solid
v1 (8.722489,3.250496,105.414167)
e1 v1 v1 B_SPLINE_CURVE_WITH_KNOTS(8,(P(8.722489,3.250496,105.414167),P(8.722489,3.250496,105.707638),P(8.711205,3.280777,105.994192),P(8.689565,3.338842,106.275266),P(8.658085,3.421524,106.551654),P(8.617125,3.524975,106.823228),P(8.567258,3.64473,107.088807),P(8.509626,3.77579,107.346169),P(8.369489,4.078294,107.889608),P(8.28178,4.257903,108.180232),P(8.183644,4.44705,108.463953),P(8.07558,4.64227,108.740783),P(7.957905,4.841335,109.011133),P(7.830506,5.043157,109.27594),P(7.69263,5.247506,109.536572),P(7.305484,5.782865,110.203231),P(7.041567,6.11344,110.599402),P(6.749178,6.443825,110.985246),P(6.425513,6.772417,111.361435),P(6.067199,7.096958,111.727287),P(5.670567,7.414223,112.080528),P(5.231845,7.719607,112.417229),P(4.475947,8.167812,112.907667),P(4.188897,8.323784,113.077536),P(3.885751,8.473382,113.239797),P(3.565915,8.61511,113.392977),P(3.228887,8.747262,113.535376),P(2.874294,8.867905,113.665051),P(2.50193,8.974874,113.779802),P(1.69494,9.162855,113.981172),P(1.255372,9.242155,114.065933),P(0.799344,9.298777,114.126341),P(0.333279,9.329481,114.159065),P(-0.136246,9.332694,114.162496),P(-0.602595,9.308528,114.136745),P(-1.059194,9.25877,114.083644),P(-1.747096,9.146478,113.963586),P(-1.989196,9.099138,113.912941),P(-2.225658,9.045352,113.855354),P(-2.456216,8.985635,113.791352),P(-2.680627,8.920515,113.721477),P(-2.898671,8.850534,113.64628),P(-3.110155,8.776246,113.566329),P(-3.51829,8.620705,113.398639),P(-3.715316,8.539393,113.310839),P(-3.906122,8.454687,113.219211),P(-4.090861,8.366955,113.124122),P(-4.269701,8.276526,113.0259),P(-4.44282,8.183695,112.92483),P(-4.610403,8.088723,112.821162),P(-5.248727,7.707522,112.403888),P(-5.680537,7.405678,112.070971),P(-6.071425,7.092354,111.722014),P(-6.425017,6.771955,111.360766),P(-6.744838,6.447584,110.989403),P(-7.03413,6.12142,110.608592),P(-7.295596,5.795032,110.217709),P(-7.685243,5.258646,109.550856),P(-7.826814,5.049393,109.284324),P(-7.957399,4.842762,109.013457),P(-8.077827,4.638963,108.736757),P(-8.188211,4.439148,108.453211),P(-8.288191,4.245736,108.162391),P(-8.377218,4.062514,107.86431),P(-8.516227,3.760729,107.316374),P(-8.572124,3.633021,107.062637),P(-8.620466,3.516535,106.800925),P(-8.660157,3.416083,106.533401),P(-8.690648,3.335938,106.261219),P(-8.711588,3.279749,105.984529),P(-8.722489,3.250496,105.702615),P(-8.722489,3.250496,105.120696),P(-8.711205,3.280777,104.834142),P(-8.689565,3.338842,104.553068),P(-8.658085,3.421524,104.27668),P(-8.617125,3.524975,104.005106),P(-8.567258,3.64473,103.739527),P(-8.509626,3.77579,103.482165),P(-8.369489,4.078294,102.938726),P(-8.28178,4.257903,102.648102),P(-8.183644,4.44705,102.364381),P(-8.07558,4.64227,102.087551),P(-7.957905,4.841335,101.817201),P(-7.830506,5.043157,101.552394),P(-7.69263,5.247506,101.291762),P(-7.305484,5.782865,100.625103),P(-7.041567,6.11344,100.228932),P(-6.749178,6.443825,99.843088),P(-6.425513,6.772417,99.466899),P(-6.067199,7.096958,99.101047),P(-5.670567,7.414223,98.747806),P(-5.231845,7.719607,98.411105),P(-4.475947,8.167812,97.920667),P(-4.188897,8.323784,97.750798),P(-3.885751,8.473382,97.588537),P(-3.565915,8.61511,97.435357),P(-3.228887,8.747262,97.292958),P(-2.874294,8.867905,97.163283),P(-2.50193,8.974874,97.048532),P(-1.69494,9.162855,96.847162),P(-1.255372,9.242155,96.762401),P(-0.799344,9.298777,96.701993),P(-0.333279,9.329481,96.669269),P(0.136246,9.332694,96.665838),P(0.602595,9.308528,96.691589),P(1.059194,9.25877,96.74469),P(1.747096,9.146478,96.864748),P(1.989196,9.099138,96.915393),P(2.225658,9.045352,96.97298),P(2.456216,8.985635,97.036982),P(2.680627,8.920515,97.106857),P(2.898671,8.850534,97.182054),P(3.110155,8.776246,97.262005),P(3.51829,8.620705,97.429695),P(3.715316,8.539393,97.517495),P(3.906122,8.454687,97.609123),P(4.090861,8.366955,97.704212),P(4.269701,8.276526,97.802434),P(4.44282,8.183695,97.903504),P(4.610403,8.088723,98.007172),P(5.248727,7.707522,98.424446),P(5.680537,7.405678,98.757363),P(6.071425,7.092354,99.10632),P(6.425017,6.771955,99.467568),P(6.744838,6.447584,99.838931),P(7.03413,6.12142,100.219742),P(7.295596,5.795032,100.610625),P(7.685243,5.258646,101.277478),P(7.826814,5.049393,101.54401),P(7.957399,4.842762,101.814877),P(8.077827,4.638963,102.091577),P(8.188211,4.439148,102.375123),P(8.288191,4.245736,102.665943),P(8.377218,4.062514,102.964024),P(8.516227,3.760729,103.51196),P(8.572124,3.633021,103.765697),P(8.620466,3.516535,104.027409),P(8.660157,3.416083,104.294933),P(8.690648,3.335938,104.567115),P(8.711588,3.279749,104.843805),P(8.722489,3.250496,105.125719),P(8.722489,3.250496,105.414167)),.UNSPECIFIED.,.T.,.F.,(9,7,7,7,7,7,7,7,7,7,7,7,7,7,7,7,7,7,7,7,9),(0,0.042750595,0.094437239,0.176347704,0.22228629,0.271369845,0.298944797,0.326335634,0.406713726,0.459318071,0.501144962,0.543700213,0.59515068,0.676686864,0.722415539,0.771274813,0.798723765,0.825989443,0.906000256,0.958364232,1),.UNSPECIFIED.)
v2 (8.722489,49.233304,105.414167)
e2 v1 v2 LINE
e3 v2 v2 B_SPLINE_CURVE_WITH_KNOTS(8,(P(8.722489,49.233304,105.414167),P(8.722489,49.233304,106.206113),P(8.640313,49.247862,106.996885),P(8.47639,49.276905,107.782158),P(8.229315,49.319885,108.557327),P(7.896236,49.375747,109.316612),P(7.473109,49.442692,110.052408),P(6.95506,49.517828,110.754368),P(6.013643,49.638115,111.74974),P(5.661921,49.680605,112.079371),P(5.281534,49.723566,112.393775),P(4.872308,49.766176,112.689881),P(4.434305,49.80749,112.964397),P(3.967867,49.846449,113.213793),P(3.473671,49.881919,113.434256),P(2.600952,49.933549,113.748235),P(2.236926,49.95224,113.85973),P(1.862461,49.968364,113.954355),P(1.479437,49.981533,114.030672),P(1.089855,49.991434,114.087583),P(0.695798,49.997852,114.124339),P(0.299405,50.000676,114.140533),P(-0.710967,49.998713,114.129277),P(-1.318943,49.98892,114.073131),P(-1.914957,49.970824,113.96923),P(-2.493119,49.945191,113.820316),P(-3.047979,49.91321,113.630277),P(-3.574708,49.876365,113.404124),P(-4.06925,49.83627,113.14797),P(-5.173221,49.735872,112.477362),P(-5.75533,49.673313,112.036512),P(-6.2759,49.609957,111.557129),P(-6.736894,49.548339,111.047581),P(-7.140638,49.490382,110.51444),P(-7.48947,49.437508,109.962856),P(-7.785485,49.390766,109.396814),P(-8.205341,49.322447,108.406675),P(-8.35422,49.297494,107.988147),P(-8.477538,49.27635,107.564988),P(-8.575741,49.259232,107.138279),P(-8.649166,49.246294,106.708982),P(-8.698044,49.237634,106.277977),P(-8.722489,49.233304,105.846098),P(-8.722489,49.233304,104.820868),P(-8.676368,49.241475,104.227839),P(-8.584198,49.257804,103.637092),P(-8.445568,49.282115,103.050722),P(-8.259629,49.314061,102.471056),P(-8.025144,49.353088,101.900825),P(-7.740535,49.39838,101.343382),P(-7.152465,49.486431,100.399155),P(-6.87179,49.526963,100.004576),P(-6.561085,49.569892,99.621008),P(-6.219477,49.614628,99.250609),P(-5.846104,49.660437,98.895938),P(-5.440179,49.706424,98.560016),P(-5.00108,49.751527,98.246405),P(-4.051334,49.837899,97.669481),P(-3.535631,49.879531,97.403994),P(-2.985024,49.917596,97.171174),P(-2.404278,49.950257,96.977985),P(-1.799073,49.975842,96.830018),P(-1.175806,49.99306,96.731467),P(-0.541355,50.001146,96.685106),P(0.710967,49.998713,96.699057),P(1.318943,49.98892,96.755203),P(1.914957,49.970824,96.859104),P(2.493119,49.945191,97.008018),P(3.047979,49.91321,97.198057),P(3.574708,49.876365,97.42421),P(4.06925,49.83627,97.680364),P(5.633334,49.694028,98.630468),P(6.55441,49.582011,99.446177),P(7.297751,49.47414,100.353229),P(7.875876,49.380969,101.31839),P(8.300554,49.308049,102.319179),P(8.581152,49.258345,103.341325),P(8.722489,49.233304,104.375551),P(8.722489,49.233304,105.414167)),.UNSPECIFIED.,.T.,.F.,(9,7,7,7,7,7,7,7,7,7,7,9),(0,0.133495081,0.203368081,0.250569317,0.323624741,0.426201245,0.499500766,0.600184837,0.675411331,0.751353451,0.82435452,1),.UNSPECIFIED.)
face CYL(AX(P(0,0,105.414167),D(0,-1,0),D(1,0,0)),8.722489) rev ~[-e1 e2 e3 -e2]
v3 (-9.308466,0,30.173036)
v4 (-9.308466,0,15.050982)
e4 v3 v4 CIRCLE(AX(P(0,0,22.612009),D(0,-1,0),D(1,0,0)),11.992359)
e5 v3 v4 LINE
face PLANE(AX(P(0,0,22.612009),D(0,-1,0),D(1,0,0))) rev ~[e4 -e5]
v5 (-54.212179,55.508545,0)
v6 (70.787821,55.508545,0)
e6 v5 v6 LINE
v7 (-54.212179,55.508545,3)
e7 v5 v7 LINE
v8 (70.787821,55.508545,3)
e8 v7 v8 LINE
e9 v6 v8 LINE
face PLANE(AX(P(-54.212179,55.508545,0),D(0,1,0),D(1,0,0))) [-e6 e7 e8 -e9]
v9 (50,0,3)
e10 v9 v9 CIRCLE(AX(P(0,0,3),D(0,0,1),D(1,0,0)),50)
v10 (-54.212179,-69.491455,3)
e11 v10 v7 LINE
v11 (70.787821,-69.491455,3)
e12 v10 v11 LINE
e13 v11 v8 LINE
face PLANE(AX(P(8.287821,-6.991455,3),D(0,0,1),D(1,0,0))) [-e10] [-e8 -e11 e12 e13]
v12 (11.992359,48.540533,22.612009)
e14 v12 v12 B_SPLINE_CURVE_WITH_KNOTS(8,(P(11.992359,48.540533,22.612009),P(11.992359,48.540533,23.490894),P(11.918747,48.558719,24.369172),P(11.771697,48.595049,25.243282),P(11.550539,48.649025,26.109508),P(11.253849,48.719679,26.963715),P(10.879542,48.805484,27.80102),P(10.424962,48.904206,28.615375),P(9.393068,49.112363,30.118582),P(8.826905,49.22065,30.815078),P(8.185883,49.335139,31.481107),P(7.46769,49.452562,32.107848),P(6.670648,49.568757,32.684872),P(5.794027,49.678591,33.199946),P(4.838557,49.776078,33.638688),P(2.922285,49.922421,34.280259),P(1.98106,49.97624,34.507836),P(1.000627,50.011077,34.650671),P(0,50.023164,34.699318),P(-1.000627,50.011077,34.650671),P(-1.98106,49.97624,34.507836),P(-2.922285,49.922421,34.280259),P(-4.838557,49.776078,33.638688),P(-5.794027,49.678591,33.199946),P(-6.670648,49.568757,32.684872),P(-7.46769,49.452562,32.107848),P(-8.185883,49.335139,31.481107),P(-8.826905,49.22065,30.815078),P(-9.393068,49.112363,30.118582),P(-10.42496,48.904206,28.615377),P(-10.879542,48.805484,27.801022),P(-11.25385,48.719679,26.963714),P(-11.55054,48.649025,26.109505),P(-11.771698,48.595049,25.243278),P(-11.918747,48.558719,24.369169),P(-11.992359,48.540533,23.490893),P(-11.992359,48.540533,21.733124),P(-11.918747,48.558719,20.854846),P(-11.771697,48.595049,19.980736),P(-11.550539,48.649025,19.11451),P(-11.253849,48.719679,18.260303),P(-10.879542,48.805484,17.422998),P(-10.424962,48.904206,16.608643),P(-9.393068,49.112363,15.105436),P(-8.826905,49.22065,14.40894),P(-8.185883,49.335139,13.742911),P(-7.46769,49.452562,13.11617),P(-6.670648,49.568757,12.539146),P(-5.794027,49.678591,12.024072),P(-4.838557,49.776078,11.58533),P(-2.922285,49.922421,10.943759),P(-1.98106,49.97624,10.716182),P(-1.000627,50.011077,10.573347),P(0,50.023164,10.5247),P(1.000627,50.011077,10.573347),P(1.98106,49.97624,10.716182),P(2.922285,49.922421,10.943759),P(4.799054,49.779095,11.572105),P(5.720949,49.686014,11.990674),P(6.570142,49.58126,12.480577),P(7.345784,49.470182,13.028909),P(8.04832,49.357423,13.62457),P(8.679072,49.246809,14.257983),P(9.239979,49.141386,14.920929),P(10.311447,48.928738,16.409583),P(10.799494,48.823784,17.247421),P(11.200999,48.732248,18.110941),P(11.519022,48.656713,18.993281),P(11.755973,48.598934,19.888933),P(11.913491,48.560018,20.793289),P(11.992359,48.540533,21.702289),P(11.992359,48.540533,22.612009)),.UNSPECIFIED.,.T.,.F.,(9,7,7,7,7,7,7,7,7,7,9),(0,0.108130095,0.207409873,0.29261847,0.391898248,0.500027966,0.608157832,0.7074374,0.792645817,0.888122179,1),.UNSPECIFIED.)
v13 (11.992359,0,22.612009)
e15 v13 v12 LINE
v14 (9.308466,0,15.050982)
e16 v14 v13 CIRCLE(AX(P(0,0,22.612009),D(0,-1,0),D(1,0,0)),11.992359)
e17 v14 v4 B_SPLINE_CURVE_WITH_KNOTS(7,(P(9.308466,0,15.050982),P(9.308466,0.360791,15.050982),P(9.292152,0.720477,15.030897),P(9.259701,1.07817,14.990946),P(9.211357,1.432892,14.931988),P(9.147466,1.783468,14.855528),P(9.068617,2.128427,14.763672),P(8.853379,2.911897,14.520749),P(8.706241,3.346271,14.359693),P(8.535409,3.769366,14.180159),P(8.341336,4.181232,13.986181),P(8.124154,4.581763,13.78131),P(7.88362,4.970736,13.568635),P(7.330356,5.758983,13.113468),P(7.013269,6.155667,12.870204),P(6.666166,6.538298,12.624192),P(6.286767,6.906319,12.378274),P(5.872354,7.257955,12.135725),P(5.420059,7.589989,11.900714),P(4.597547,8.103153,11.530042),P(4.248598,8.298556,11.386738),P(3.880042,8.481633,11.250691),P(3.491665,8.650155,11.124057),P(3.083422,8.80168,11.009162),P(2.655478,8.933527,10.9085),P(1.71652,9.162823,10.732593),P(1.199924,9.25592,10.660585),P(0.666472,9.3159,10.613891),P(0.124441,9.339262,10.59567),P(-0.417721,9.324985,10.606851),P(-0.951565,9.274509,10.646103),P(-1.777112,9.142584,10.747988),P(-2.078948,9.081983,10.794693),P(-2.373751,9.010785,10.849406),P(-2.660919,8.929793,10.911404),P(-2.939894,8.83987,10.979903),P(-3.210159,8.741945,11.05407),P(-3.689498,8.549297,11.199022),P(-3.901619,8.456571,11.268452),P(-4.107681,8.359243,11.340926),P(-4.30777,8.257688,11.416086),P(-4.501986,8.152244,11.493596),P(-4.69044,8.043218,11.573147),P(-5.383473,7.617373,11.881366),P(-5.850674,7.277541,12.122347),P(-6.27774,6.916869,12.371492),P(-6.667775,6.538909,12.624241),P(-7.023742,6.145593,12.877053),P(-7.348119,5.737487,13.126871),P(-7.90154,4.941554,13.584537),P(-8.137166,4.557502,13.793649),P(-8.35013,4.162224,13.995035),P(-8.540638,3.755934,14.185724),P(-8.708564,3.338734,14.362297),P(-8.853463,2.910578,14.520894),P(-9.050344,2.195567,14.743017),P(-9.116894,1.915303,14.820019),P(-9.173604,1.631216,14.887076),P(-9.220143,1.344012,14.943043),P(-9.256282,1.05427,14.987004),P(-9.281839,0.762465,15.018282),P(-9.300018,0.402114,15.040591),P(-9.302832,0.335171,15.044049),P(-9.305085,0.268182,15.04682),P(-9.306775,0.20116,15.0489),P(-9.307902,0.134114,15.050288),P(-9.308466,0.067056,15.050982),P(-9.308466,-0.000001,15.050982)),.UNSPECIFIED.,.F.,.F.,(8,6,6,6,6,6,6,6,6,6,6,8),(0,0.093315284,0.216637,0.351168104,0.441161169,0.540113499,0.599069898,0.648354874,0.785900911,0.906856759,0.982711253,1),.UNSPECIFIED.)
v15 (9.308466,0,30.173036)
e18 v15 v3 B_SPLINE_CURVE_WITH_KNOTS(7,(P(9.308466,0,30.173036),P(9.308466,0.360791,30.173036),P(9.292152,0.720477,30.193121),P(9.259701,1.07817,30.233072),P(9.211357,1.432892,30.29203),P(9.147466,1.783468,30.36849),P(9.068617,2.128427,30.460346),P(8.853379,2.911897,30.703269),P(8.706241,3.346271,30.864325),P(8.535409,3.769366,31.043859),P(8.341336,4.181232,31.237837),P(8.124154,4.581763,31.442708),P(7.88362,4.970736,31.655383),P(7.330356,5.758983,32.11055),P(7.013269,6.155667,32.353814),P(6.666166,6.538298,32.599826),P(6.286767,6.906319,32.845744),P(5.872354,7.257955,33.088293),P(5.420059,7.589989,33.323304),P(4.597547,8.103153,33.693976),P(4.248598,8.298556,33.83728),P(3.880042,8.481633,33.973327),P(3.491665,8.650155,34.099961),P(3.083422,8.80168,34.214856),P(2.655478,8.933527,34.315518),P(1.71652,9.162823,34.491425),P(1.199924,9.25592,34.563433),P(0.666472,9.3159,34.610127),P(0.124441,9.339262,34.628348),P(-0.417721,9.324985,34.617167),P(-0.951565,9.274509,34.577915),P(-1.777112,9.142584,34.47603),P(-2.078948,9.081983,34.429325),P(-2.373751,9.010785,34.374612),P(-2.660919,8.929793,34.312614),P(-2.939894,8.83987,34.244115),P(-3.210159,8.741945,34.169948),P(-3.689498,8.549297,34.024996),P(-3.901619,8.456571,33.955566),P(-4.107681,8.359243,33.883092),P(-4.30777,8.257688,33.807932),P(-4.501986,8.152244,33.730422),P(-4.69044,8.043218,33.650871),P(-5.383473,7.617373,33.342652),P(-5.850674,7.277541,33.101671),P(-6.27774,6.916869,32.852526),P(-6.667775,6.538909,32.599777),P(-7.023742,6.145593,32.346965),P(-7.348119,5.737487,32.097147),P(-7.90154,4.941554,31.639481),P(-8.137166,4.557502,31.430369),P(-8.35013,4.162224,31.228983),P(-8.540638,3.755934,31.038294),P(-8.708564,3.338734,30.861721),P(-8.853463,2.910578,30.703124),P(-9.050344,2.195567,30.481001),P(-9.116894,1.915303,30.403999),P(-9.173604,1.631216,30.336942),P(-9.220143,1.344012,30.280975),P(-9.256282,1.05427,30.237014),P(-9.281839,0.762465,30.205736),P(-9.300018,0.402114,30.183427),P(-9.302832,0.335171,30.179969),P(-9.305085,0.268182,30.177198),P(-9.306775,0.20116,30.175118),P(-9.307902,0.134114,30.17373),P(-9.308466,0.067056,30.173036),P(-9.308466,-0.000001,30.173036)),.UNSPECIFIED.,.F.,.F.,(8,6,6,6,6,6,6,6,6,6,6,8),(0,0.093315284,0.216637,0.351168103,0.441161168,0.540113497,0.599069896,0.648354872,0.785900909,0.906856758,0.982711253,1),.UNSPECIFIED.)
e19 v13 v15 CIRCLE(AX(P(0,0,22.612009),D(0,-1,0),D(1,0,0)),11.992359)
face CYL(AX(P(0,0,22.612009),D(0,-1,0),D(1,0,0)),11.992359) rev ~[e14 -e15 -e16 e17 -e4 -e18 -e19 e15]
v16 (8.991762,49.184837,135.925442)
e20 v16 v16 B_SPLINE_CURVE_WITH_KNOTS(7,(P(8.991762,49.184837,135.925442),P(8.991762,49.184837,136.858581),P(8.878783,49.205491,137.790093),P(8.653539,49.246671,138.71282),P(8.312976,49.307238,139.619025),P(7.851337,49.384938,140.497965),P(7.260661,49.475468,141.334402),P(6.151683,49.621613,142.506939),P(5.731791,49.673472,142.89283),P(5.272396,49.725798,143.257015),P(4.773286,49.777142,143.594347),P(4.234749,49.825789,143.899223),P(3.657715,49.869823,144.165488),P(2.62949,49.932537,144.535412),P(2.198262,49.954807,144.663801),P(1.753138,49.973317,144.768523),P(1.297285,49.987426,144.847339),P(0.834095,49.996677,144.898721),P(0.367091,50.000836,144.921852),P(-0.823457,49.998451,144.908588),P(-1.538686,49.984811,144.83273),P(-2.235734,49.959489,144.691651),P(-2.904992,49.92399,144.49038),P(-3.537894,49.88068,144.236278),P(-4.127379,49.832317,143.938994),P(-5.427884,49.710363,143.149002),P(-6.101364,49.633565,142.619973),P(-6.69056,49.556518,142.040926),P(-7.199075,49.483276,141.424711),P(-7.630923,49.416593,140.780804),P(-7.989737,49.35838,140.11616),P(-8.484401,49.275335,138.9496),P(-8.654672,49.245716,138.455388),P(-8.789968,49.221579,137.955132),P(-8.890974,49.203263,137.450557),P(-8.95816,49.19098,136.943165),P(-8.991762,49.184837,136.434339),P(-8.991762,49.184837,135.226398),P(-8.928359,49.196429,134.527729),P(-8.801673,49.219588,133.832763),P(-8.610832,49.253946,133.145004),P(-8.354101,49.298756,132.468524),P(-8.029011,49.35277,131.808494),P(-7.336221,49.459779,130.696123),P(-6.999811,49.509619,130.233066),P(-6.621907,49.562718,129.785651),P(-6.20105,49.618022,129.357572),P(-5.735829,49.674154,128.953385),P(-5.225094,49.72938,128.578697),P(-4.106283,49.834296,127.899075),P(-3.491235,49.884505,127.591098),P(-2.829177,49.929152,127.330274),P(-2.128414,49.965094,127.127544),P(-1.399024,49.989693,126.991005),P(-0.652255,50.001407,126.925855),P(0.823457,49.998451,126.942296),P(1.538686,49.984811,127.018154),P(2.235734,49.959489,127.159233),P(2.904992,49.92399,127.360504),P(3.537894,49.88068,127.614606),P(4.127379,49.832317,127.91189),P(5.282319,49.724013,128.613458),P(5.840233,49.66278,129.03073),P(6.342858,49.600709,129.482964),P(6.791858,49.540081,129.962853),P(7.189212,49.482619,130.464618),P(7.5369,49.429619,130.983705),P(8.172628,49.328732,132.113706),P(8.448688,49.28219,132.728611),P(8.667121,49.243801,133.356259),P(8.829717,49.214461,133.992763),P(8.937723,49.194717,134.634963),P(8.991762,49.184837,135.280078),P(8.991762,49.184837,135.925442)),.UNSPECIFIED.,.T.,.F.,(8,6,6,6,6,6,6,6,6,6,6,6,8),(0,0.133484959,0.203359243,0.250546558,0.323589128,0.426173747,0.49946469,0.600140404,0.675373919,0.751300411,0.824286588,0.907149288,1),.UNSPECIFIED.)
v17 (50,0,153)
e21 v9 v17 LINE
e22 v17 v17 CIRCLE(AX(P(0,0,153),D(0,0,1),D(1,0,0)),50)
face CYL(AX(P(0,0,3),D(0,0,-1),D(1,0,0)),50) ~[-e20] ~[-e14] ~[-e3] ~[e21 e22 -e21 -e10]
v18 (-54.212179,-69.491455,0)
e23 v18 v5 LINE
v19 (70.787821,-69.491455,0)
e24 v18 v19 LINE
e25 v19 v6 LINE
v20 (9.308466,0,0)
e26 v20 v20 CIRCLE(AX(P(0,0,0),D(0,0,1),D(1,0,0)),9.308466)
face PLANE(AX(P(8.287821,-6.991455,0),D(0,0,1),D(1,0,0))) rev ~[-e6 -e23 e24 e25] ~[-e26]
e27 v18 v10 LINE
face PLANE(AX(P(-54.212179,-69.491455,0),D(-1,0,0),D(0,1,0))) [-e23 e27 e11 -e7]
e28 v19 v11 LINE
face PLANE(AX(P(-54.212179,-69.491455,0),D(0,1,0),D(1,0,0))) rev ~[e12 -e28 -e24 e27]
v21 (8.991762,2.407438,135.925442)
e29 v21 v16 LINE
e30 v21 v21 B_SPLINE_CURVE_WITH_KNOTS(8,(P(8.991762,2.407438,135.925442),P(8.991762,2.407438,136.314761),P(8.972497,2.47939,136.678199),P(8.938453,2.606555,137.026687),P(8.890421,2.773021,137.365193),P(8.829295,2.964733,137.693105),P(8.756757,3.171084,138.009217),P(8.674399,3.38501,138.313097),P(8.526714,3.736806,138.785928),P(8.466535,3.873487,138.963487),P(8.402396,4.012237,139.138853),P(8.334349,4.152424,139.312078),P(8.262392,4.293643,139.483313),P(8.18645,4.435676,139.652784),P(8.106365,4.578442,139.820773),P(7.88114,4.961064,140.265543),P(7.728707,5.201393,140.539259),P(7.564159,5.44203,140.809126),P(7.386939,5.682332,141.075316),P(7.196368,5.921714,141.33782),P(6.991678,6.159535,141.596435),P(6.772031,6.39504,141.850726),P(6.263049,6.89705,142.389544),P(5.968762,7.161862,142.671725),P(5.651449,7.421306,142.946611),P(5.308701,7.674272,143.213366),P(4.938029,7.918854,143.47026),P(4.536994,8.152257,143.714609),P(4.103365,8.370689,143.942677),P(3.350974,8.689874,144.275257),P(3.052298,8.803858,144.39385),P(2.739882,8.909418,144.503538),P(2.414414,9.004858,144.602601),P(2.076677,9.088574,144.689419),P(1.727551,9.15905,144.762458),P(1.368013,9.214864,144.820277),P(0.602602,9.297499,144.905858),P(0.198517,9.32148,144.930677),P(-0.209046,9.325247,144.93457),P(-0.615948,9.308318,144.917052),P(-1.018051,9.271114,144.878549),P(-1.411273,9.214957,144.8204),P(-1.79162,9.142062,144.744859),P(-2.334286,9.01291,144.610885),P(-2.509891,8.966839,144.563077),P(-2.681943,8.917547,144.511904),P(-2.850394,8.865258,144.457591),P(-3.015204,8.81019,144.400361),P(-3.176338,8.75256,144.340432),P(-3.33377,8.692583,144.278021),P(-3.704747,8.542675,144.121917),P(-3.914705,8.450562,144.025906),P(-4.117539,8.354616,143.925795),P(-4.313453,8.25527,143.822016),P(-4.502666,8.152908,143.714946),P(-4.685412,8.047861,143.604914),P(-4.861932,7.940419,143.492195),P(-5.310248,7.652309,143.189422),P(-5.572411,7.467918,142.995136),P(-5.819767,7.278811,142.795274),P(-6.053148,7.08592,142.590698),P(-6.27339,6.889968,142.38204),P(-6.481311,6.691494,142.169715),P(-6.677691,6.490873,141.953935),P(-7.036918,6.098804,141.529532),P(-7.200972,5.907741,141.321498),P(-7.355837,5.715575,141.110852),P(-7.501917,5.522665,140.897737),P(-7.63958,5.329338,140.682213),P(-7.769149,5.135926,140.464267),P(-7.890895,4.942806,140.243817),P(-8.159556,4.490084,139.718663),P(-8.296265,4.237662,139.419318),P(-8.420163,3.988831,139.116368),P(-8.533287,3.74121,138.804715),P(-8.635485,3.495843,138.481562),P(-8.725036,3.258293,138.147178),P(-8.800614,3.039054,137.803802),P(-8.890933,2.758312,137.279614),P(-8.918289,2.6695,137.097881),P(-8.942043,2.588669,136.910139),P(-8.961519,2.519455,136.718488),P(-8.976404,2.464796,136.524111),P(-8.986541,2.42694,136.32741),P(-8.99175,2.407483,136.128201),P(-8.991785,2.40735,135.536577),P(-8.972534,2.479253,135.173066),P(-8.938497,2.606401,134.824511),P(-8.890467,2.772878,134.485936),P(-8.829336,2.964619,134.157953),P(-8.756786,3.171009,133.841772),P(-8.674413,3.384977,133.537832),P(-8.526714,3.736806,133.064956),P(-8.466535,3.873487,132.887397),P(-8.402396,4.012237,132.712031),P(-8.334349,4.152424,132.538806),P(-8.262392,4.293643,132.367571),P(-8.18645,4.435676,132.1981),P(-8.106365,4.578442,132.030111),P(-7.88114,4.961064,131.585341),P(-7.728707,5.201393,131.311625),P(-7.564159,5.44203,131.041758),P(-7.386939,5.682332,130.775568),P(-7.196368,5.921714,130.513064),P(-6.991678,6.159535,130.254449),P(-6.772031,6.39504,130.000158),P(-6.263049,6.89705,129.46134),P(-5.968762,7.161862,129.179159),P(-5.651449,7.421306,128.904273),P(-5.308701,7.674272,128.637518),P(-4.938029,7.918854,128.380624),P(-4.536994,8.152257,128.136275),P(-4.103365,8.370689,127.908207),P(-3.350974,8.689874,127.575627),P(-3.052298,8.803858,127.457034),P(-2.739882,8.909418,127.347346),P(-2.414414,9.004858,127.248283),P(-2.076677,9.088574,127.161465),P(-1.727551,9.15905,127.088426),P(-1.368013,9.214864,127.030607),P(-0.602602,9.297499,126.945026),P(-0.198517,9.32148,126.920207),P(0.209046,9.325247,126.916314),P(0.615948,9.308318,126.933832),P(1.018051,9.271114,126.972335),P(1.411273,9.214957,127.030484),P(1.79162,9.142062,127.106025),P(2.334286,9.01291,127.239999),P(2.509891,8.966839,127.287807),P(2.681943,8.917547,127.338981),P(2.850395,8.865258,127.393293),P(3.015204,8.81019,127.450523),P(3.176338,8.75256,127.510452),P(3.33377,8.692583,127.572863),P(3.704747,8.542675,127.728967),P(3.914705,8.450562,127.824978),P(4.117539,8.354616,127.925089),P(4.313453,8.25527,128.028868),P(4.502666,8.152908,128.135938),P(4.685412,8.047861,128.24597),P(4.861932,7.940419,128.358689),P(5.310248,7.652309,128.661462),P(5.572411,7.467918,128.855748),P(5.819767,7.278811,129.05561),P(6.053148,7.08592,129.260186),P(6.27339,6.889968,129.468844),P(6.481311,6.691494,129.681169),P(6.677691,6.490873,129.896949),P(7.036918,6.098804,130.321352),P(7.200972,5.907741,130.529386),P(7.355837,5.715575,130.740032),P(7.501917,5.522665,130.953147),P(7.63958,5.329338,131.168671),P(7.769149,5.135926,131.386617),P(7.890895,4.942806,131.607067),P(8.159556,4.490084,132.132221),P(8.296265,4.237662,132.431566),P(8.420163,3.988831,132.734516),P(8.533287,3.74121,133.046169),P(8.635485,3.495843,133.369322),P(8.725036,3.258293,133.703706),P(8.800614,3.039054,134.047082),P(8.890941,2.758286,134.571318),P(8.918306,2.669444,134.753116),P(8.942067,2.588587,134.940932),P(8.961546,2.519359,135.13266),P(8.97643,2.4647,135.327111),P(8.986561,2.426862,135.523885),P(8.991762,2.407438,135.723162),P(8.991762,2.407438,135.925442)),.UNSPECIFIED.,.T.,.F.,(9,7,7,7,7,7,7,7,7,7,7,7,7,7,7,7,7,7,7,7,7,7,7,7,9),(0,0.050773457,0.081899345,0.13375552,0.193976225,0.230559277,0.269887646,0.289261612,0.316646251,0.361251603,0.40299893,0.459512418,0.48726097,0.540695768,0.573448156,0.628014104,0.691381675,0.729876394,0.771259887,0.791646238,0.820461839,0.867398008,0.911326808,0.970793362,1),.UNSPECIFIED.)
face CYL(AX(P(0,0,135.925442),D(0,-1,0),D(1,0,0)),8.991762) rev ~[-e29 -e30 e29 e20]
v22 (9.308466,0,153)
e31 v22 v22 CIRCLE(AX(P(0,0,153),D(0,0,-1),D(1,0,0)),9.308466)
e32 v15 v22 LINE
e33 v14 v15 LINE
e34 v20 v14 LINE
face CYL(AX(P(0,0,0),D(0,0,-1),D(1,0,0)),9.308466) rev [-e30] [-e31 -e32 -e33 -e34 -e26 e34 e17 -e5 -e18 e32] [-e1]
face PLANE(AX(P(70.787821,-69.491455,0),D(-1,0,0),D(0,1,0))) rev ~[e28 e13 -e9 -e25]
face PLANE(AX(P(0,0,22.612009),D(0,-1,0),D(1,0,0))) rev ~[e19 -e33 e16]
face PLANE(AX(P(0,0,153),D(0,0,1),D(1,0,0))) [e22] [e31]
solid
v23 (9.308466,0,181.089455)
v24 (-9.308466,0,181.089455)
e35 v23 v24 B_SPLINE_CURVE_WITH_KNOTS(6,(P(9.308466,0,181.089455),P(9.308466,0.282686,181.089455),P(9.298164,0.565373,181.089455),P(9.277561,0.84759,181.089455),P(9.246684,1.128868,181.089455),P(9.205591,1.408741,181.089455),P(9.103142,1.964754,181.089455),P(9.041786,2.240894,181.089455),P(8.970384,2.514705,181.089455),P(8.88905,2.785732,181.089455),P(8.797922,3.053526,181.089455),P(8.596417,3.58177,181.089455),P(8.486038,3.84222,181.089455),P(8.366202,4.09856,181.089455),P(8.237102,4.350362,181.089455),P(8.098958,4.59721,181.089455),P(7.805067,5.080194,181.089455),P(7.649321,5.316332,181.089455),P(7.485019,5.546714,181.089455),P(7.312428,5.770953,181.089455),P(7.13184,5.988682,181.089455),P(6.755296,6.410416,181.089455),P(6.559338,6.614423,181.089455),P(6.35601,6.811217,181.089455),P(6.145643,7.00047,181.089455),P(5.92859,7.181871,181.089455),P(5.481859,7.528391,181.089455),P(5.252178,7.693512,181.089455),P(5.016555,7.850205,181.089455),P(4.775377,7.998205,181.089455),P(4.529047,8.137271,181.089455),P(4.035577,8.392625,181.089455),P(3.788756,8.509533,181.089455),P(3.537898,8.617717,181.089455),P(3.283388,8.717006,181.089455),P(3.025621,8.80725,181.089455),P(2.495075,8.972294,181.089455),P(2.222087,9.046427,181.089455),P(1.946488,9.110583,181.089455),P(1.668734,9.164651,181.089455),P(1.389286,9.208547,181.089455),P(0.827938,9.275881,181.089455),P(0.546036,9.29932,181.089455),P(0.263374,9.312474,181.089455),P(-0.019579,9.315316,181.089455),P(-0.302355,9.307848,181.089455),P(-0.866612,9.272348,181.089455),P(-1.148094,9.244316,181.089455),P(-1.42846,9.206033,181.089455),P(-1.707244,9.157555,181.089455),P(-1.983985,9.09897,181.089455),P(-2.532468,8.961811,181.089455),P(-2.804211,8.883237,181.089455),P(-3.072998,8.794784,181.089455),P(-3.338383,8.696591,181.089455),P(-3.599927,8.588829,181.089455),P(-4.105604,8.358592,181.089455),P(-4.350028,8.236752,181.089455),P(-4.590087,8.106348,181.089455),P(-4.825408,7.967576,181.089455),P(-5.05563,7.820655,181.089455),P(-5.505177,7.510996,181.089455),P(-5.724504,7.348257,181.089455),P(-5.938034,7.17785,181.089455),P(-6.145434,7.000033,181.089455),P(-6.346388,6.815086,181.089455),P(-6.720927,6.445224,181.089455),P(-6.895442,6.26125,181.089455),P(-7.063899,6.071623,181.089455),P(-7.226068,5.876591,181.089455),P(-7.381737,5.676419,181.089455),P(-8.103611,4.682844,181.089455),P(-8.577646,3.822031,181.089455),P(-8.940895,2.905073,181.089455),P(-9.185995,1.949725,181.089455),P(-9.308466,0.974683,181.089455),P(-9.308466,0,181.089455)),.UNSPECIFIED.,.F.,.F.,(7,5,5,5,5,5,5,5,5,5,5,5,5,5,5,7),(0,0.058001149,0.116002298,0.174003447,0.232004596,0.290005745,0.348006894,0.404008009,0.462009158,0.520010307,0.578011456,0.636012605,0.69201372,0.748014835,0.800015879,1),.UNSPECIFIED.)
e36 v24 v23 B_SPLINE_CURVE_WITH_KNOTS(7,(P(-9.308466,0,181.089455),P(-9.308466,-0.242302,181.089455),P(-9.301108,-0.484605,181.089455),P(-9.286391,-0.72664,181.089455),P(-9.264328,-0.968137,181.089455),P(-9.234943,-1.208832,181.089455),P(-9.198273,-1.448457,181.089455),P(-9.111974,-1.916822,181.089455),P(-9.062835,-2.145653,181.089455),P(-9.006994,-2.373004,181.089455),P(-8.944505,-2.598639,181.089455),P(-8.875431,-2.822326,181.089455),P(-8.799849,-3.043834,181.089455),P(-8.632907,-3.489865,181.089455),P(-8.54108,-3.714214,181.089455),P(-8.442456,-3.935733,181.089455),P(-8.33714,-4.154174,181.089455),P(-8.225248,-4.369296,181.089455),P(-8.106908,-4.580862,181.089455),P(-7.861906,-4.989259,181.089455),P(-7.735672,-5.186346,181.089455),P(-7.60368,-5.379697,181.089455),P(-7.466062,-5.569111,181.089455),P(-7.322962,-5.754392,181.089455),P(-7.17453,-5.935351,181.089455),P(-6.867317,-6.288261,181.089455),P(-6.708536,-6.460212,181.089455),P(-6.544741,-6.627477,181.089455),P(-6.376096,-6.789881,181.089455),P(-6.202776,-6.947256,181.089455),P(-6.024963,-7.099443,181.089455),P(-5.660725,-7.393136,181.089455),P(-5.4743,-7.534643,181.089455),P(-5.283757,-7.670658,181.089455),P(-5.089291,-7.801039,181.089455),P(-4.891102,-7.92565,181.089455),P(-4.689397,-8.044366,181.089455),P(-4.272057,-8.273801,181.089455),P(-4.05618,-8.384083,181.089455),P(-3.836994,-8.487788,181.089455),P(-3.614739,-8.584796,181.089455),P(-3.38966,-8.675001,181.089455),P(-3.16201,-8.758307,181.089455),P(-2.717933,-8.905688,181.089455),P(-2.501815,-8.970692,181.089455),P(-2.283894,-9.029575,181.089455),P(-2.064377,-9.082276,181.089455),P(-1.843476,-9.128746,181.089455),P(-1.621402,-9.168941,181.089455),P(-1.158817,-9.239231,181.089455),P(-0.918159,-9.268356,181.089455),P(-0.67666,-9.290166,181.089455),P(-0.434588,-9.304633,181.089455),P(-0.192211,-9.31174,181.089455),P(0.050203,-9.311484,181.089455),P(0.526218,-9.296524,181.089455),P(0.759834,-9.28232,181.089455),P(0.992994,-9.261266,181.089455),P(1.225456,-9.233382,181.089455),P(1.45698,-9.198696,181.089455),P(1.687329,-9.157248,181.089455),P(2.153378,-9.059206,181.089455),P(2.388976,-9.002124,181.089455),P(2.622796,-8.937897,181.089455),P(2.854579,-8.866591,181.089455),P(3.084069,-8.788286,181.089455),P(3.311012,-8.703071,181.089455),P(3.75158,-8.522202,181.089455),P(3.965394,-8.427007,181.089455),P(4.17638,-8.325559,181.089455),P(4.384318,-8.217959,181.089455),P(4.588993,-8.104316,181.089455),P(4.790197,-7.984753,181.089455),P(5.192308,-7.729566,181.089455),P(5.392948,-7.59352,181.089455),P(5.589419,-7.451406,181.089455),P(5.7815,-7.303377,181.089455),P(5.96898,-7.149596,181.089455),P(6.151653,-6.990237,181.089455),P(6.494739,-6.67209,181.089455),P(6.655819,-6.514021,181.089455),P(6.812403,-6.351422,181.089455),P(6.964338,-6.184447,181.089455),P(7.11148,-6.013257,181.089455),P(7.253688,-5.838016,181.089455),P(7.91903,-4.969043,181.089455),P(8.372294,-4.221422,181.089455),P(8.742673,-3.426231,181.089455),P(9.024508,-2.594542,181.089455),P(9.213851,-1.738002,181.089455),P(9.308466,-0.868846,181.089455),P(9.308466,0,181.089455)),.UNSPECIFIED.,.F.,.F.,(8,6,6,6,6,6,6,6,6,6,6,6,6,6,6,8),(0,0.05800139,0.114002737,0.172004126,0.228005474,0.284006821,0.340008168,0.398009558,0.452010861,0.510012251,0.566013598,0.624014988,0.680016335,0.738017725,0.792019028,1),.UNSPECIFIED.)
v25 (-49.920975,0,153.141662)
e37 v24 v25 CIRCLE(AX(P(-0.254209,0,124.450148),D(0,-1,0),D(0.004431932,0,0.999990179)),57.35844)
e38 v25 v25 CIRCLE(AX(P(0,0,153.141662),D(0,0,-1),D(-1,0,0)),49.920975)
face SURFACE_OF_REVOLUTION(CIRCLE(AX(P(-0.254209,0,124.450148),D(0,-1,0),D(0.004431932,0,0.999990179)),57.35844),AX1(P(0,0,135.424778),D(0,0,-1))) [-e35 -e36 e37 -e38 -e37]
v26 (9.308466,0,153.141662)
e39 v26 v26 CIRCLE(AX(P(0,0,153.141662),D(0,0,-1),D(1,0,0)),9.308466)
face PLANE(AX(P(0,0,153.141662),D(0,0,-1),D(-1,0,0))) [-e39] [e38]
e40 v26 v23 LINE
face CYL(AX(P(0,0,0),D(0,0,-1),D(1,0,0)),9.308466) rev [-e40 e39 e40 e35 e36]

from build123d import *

# Parameters (mm, degrees)
F0_W     = 125
F0_H     = 125
F1_DEPTH = 3
F2_R     = 50
F3_DEPTH = 150
F6_R     = 11.992359
F6_R_2   = 8.991762
F6_R_3   = 8.722489
F7_DEPTH = 76.2
F8_R     = 9.308466
F9_DEPTH = 181.809588


with BuildPart() as f1:
    # F0 (on Top) → F1 (new body)
    with BuildSketch(Plane.XY):
        with Locations((8.287821, -6.991455)):
            Rectangle(F0_W, F0_H)
    extrude(amount=F1_DEPTH)

    # F2 (on face) → F3 (join)
    with BuildSketch(Plane.XY.offset(3)):
        Circle(F2_R)
    extrude(amount=F3_DEPTH)

    # F6 (on Front) → F7 (cut)
    with BuildSketch(Plane.XZ):
        with Locations((0, 22.612009)):
            Circle(F6_R)
        with Locations((0, 135.925442)):
            Circle(F6_R_2)
        with Locations((0, 105.414167)):
            Circle(F6_R_3)
    extrude(amount=-F7_DEPTH, mode=Mode.SUBTRACT)


with BuildPart() as f5:
    # F4 (on Front) → F5 (revolve)
    with BuildSketch(Plane.XZ):
        with BuildLine():
            ThreePointArc((0, 181.808025), (-28.817127, 174.19098), (-49.920975, 153.141662))
            Line((-49.920975, 153.141662), (0, 153.141662))
            Line((0, 153.141662), (0, 181.808025))
        make_face()
    revolve(axis=Axis((0, 0, 135.424778), (0, 0, -1)))


with BuildPart() as f9_tool:
    # F8 (on Top) → F9 (new body, through all)
    with BuildSketch(Plane.XY):
        Circle(F8_R)
    extrude(amount=F9_DEPTH)


with BuildPart() as f1_1:
    add(f1.part)

    # F9: cut by f9_tool
    add(f9_tool.part, mode=Mode.SUBTRACT)


with BuildPart() as f5_1:
    add(f5.part)

    # F9: cut by f9_tool
    add(f9_tool.part, mode=Mode.SUBTRACT)


solid = Compound([f1_1.part, f5_1.part])
